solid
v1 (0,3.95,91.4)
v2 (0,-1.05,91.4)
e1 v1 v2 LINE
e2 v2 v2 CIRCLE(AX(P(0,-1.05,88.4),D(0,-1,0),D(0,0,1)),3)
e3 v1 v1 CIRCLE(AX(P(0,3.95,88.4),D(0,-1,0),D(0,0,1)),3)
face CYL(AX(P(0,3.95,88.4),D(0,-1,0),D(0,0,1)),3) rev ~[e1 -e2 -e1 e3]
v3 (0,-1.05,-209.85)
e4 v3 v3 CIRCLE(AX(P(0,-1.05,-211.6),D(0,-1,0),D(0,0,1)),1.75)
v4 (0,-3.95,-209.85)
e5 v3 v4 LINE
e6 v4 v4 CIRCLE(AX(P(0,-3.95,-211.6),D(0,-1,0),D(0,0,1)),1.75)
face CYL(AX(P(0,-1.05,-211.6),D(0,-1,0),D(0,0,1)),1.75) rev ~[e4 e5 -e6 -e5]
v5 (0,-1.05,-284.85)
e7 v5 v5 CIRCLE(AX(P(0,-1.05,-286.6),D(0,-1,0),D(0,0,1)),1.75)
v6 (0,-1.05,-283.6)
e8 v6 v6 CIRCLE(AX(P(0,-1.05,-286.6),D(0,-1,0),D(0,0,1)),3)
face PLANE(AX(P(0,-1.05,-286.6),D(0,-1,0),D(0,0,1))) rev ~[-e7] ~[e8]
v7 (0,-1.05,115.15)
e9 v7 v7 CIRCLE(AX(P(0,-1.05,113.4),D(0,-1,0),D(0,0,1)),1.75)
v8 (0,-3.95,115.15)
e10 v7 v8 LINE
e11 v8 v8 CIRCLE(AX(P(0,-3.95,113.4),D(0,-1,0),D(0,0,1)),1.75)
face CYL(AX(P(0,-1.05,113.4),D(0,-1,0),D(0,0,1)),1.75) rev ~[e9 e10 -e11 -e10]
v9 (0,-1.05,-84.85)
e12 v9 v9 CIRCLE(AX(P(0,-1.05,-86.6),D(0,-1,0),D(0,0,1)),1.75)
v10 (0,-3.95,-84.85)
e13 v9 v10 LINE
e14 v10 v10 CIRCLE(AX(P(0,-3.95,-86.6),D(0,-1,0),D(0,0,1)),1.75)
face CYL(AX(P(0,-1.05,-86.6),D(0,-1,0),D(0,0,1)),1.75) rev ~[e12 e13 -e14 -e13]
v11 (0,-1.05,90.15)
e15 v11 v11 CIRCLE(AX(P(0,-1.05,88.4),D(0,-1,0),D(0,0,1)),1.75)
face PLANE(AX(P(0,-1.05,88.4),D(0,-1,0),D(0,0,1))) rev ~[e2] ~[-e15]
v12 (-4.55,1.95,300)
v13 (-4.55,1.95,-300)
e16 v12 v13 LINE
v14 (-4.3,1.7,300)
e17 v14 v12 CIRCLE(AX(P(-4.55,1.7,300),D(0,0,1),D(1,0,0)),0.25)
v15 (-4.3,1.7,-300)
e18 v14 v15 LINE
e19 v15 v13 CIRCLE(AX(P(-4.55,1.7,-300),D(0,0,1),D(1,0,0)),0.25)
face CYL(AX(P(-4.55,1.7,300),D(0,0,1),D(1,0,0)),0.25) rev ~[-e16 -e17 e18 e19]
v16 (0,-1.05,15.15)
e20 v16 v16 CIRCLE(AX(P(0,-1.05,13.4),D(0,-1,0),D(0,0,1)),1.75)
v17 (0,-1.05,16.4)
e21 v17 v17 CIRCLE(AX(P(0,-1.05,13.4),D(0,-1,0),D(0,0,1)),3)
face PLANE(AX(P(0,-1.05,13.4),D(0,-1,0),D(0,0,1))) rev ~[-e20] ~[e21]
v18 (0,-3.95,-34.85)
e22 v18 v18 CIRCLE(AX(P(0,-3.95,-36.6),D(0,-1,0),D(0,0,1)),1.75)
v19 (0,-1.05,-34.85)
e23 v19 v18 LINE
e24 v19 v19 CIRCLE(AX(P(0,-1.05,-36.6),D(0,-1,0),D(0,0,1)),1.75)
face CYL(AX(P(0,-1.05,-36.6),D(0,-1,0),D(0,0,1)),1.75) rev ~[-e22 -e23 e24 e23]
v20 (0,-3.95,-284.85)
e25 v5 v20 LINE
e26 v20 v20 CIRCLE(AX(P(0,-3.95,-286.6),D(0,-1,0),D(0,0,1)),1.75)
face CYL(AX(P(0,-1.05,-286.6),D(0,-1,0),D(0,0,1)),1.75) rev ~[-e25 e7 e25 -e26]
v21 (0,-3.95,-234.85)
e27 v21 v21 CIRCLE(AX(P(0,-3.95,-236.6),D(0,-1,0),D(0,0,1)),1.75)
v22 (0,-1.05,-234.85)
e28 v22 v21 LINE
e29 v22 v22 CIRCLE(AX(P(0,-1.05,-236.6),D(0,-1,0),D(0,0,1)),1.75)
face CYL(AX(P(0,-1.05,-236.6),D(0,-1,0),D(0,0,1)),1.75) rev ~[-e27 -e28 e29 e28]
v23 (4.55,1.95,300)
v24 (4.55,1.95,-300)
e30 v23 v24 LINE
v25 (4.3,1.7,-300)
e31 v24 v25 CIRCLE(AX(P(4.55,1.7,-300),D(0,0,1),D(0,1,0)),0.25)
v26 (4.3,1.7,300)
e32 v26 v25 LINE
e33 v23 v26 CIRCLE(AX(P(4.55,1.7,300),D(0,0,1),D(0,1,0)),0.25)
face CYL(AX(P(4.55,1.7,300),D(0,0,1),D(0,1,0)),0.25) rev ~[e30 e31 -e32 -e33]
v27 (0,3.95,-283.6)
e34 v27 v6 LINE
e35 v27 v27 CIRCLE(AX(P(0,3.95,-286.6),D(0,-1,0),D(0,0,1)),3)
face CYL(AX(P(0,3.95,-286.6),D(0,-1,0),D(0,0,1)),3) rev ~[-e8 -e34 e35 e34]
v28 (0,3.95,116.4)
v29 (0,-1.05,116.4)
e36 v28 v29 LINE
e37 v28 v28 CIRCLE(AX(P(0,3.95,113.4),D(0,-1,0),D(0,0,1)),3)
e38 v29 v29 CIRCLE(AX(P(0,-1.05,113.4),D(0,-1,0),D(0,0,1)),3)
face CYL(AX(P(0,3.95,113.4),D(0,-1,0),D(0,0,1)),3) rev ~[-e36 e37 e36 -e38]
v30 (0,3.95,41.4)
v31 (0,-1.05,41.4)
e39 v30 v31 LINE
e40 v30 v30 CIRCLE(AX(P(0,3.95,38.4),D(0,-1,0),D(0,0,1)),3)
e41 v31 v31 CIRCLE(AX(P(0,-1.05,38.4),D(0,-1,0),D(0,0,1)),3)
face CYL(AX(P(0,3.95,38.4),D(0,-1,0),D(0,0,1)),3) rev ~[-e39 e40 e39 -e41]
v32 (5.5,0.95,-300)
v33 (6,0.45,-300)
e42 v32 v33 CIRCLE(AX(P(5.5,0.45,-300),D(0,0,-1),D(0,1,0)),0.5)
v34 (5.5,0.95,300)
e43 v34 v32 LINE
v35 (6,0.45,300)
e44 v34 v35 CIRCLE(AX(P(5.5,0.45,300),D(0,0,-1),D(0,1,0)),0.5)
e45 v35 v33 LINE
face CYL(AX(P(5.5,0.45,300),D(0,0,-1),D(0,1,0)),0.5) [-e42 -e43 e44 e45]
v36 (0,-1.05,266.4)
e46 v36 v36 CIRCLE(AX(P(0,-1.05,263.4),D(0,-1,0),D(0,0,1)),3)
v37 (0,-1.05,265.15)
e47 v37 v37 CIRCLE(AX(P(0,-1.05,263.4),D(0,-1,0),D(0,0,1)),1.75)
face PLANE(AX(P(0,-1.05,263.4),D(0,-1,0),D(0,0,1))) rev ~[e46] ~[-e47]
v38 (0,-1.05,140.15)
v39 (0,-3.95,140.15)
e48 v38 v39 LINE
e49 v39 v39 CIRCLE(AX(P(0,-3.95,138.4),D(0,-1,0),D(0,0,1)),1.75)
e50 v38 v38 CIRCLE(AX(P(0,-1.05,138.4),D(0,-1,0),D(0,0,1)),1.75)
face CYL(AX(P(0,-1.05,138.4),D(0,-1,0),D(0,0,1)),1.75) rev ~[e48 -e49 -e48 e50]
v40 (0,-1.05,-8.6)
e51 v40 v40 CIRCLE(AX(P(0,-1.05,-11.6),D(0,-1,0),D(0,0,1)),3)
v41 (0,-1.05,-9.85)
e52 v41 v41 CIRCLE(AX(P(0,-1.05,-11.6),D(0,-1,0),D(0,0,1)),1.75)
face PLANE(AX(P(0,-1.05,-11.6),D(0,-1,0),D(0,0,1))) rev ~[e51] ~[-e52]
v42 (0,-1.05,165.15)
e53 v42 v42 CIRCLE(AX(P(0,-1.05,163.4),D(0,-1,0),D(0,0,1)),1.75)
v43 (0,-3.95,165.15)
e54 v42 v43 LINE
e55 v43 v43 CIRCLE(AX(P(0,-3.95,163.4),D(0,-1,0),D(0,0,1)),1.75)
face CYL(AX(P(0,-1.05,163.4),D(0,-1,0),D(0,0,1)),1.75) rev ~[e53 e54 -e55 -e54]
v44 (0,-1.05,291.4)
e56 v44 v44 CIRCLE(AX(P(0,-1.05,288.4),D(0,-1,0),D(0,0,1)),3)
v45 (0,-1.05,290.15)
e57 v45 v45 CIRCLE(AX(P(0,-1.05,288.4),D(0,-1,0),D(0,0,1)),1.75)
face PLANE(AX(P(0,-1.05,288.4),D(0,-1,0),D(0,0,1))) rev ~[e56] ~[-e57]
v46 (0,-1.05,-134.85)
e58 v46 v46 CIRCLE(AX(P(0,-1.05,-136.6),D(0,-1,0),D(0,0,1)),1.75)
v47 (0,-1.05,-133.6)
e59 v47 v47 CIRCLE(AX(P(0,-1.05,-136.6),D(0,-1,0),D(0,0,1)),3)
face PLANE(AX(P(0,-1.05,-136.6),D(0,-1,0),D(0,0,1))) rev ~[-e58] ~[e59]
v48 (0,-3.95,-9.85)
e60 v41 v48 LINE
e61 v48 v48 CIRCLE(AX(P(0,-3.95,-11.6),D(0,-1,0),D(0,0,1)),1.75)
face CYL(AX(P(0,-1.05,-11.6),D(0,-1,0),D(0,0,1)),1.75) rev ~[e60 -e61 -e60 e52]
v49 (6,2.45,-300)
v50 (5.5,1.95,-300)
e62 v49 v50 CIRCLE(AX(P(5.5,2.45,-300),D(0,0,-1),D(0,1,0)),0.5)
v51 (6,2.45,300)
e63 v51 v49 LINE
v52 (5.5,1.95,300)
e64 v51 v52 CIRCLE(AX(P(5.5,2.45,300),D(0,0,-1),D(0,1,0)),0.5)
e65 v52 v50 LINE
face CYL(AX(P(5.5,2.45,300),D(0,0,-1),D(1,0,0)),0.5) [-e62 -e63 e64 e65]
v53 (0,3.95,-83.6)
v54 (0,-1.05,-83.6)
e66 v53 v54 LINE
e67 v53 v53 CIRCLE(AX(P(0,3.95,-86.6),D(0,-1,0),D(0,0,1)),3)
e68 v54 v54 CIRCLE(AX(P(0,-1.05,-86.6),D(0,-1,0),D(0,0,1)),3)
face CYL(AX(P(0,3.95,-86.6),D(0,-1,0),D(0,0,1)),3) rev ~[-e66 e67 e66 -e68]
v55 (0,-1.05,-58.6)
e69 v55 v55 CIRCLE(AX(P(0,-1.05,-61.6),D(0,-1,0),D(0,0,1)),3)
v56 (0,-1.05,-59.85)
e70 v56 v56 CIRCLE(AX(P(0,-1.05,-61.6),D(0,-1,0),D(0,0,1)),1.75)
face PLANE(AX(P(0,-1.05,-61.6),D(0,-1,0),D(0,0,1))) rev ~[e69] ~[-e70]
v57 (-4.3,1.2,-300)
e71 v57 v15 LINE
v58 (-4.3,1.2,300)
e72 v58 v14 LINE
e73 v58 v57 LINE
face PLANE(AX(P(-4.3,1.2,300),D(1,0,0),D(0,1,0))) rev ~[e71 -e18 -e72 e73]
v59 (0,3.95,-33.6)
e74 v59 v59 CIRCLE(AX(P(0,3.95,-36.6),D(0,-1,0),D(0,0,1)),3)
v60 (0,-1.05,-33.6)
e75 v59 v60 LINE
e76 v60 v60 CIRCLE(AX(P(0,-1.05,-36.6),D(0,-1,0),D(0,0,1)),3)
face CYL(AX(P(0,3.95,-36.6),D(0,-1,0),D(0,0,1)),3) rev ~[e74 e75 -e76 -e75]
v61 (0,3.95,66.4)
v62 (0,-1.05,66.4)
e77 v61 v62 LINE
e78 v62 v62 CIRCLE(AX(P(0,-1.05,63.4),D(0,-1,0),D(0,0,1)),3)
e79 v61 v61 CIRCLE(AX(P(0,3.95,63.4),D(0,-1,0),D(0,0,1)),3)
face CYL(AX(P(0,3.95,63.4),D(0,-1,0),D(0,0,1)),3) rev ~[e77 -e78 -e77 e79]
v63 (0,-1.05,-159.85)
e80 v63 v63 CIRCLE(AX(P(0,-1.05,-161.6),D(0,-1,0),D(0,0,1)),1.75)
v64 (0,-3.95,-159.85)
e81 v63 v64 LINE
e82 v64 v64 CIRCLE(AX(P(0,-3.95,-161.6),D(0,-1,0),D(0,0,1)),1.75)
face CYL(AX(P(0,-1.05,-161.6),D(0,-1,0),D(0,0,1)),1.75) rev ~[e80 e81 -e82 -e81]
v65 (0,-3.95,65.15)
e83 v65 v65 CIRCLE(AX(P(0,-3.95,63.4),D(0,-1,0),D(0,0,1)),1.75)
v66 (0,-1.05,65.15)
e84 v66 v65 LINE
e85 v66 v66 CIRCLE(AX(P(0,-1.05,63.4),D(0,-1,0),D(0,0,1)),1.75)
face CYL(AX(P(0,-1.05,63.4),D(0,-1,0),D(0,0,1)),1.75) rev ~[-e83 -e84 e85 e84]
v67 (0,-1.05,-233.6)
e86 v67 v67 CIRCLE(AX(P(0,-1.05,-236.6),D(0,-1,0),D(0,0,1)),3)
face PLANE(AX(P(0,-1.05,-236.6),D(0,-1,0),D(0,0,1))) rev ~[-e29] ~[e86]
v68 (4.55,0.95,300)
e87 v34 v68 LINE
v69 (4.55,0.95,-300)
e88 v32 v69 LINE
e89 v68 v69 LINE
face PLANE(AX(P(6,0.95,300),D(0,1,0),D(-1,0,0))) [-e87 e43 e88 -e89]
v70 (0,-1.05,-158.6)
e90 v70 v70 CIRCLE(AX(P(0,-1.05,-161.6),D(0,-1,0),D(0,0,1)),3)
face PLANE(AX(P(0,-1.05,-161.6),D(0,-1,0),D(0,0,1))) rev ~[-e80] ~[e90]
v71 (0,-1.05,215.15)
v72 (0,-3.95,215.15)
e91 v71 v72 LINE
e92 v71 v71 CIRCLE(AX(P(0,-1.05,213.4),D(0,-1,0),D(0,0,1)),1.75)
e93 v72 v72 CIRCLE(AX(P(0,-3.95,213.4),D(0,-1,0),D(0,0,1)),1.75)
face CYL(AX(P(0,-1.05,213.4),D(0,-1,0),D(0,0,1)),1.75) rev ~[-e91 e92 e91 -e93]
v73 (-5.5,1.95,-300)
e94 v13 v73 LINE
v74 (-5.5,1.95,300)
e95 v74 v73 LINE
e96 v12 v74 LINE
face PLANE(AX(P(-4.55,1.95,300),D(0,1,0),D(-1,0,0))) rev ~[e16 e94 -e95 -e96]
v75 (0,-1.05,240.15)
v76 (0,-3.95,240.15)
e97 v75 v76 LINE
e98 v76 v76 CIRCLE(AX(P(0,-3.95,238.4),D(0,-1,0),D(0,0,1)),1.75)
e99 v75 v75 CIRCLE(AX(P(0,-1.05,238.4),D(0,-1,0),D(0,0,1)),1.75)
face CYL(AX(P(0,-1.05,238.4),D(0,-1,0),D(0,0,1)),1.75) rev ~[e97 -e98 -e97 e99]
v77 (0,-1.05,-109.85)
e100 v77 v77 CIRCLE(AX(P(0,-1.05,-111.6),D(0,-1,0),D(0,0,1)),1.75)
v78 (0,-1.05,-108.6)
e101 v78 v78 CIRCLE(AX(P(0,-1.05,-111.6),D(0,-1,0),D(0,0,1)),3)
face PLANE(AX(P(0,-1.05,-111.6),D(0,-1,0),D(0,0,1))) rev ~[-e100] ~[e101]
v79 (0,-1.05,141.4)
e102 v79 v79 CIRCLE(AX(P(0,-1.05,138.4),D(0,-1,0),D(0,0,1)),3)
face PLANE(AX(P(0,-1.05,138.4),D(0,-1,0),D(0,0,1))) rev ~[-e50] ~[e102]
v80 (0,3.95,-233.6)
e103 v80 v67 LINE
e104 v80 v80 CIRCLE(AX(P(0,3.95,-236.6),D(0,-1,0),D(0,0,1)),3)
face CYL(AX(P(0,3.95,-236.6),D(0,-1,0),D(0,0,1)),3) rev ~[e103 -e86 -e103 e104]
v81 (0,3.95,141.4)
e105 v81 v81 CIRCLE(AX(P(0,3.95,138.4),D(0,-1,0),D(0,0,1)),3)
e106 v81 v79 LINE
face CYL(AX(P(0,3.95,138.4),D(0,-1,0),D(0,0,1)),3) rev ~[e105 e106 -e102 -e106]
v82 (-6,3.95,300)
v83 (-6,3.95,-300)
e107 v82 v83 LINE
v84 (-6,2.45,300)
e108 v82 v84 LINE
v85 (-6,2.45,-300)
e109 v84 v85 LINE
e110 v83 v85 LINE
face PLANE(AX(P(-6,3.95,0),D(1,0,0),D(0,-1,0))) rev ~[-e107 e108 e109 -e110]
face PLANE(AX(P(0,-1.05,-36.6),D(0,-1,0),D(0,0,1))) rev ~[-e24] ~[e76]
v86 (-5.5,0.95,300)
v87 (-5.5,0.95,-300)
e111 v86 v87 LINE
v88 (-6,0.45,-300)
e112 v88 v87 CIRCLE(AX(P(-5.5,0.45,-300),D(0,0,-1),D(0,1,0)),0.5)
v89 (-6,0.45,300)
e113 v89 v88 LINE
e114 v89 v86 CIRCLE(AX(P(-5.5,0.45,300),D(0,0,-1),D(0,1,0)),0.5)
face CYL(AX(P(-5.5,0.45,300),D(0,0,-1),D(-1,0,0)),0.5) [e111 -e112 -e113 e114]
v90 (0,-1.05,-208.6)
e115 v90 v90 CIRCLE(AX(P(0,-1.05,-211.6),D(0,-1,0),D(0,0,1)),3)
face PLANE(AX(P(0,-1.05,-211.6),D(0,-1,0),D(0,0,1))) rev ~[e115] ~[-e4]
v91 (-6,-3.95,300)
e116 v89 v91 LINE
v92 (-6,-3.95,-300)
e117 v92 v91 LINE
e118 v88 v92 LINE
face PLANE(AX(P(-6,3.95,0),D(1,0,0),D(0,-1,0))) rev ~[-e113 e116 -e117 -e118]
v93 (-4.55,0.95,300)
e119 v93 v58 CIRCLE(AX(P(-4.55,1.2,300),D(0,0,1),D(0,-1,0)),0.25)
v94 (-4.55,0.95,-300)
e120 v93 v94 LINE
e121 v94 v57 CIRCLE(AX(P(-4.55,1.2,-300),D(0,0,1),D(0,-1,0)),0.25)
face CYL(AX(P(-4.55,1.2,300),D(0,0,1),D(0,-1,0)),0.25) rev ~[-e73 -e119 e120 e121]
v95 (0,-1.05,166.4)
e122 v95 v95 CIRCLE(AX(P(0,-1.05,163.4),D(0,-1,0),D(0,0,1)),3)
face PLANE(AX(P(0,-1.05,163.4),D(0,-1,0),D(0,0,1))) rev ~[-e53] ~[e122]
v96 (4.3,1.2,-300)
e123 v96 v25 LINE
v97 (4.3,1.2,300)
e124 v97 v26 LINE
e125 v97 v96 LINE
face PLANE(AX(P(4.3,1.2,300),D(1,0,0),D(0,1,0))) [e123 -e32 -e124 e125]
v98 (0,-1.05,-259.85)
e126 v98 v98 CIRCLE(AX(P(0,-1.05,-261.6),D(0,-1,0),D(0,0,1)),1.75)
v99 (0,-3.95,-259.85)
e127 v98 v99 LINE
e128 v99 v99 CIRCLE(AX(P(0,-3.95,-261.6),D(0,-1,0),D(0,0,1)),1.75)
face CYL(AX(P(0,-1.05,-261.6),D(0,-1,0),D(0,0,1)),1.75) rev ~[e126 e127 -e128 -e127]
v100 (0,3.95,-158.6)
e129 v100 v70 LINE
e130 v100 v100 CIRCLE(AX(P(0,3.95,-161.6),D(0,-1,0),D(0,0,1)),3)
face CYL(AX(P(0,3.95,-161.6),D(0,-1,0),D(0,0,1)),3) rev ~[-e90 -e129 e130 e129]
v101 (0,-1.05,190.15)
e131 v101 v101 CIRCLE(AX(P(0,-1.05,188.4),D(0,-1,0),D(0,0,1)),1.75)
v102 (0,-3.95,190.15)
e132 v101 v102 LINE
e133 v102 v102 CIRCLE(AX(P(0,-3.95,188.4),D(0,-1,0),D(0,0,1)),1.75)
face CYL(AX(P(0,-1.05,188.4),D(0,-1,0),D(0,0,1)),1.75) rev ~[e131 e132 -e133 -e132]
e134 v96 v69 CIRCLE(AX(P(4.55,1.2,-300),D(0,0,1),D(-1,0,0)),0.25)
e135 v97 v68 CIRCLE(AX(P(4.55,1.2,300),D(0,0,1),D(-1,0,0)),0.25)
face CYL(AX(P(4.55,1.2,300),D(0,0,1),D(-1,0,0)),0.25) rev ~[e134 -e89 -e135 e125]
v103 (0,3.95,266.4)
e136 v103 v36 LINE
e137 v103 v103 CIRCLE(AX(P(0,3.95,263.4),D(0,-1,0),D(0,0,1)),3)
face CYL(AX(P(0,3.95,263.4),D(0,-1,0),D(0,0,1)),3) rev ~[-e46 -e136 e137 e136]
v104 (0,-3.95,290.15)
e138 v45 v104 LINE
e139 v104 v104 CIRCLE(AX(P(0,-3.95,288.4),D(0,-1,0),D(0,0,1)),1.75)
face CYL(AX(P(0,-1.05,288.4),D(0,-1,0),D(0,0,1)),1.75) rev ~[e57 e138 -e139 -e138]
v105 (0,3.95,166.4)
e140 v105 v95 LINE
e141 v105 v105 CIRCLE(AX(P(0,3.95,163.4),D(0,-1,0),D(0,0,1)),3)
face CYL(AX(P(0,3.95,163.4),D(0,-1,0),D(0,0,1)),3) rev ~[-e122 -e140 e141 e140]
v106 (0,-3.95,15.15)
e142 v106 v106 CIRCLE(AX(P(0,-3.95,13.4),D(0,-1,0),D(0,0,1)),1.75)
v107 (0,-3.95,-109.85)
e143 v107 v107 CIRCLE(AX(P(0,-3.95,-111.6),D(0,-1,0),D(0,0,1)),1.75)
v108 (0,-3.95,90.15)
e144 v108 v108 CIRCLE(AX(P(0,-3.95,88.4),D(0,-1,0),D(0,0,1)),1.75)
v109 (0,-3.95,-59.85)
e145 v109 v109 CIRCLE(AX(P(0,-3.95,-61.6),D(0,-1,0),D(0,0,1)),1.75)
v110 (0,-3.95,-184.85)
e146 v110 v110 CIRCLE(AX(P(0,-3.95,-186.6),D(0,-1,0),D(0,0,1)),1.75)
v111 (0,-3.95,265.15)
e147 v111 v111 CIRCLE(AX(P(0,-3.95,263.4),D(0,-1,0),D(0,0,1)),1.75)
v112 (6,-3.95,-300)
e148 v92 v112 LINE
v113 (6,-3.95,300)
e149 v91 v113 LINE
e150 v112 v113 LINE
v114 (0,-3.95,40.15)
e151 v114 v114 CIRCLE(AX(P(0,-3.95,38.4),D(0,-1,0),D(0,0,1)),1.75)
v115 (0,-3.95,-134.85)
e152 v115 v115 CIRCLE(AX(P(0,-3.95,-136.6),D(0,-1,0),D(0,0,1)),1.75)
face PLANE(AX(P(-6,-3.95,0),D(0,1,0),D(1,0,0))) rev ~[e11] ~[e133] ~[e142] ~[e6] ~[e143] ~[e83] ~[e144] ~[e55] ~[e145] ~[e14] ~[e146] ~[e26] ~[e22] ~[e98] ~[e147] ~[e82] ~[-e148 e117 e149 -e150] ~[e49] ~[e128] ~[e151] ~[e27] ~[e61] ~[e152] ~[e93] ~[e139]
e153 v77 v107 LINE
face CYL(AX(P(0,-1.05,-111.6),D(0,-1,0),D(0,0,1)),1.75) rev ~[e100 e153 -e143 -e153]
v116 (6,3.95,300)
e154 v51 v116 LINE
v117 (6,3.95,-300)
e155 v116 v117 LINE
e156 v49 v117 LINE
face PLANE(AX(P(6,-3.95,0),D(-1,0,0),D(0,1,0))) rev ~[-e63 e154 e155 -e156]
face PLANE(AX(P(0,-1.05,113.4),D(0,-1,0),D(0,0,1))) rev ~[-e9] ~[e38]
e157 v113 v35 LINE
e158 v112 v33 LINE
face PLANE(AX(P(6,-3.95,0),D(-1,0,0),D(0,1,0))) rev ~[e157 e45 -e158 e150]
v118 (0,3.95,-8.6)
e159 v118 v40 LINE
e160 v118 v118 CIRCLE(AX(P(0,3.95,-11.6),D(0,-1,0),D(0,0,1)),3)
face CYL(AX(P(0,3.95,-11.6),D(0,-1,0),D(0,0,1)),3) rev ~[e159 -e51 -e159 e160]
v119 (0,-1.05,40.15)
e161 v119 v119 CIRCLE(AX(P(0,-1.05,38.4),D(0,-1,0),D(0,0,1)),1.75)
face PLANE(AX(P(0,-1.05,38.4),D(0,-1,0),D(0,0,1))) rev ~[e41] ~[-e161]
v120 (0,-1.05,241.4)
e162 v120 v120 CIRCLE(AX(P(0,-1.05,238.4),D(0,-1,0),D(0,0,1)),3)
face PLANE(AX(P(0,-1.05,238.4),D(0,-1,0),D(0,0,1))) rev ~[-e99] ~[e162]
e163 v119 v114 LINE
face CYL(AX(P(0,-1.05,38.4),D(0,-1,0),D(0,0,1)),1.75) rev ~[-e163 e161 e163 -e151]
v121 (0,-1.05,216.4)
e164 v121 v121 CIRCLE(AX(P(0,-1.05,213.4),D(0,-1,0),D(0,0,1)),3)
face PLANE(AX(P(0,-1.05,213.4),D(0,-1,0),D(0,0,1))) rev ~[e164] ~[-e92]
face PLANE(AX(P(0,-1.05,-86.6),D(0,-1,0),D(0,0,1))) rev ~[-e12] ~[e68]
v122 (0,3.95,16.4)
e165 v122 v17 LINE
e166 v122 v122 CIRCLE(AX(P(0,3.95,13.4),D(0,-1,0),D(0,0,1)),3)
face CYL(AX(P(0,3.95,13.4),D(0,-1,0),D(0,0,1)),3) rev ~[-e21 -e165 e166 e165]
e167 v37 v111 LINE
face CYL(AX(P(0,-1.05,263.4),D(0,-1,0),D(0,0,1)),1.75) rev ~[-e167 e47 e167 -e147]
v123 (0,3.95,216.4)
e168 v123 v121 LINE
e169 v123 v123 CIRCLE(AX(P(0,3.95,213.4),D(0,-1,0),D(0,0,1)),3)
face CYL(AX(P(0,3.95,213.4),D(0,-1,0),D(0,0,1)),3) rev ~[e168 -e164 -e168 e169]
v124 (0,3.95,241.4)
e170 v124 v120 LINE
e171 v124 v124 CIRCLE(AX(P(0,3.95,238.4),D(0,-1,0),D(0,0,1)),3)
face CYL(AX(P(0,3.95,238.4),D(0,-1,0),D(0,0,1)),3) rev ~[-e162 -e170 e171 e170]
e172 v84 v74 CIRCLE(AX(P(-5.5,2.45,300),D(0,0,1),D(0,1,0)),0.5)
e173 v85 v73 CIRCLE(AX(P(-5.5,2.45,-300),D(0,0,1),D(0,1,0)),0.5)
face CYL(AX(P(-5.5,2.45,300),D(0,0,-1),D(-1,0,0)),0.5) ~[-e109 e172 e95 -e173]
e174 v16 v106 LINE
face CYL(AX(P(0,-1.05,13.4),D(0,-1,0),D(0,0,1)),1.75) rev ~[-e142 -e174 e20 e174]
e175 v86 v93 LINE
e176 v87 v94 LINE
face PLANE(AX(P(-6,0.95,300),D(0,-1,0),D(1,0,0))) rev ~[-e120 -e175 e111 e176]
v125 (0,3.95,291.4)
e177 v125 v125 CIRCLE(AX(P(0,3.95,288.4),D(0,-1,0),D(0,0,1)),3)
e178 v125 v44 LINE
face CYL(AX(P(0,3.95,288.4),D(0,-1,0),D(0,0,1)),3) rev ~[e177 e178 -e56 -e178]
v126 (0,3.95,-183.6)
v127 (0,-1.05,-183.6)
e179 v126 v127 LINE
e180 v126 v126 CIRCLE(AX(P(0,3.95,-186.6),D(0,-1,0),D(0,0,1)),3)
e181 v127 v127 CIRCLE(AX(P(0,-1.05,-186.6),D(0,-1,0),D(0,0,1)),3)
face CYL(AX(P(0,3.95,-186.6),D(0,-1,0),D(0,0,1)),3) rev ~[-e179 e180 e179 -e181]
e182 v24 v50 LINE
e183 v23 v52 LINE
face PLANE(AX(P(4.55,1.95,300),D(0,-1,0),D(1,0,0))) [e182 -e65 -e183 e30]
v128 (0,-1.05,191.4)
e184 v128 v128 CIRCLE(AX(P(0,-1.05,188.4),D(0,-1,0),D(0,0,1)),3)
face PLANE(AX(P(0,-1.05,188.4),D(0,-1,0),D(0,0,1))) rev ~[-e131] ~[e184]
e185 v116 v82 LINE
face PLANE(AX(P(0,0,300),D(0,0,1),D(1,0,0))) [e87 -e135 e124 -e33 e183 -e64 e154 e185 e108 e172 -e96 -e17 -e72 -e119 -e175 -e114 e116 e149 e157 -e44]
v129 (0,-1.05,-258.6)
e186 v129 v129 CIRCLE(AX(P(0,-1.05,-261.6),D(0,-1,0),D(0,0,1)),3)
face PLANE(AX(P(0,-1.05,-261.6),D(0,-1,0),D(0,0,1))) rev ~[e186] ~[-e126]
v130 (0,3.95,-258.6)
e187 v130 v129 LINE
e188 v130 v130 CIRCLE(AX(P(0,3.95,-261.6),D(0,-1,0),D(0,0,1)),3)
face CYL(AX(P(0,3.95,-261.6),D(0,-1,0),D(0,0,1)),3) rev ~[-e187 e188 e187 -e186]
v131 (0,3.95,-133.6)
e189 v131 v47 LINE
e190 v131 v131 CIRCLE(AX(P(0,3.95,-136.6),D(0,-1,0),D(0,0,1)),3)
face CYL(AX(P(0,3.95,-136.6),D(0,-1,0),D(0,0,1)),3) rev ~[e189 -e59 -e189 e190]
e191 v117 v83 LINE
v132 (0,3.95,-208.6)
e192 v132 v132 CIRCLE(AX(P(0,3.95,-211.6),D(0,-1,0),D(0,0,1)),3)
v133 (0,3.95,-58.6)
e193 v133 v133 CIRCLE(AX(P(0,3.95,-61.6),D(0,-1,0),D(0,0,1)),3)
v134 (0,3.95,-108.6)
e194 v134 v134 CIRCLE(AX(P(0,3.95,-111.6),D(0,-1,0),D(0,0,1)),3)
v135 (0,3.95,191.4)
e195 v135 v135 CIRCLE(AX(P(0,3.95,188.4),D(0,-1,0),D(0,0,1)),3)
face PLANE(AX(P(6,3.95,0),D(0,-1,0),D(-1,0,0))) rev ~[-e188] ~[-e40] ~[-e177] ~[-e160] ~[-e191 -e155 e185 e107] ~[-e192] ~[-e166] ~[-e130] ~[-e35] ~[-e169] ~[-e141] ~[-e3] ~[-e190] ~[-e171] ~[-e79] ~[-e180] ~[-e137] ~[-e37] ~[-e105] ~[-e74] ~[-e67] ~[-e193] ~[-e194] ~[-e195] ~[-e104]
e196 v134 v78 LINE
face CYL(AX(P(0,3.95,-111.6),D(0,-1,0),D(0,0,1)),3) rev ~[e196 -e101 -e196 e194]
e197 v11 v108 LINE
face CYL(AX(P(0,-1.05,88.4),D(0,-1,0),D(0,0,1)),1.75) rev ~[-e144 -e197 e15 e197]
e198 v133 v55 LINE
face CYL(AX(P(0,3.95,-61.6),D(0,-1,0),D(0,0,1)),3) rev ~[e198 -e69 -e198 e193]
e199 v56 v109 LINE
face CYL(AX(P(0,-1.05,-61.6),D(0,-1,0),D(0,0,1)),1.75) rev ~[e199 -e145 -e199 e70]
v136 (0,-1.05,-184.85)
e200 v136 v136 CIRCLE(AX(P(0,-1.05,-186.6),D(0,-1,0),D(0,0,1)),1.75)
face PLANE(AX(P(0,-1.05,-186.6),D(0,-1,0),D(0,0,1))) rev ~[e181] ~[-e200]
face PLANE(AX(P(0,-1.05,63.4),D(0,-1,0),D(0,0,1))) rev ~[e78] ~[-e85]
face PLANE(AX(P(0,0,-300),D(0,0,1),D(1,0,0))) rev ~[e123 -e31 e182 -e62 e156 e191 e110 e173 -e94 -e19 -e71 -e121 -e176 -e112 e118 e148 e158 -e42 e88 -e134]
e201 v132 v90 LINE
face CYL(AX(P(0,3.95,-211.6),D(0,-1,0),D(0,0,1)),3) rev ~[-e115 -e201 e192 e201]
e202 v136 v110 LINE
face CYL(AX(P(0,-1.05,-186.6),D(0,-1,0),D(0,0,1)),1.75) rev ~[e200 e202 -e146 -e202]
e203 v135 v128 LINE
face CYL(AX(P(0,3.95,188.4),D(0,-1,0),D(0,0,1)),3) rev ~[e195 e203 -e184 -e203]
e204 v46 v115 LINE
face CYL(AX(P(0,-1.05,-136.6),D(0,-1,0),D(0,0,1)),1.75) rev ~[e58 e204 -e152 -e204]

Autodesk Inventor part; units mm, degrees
ref_plane "YZ Plane" through (0, 0, 0) normal (1, 0, 0) x (0, 1, 0)
ref_plane "XZ Plane" through (0, 0, 0) normal (0, 1, 0) x (-1, 0, 0)
ref_plane "XY Plane" through (0, 0, 0) normal (0, 0, 1) x (1, 0, 0)
sketch "Esquisse1" plane through (0, 0, 0) normal (0, 0, 1) x (1, 0, 0)
  line L0 (-6, -3.95) -> (6, -3.95)
  line L1 (6, -3.95) -> (6, 3.95)
  line L2 (6, 3.95) -> (-6, 3.95)
  line L3 (-6, 3.95) -> (-6, -3.95)
  line L4 (-6, -3.95) -> (6, 3.95) construction
  line L5 (6, -3.95) -> (-6, 3.95) construction
  point P0 (0, 0)
  dimension "d0" = 7.9
  dimension "d1" = 12
extrude "Extrusion1" add sketch "Esquisse1" along normal mid plane 600
sketch "Esquisse2" plane through (0, 0, 300) normal (0, 0, 1) x (1, 0, 0)
  line L0 (6, -3.95) -> (6, 3.95) projected
  line L1 (6, 0.95) -> (4.55, 0.95)
  line L2 (4.3, 1.2) -> (4.3, 1.7)
  line L3 (4.55, 1.95) -> (6, 1.95)
  line L4 (6, 1.95) -> (6, 0.95)
  line L5 (-6, 3.95) -> (-6, -3.95) projected
  line L6 (-6, 0.95) -> (-4.55, 0.95)
  line L7 (-4.3, 1.2) -> (-4.3, 1.7)
  line L8 (-4.55, 1.95) -> (-6, 1.95)
  line L9 (-6, 1.95) -> (-6, 0.95)
  line L10 (-6, 3.95) -> (6, 3.95) projected
  arc A0 (-4.55, 0.95) -> (-4.3, 1.2) centre (-4.55, 1.2) ccw
  arc A1 (-4.3, 1.7) -> (-4.55, 1.95) centre (-4.55, 1.7) ccw
  arc A2 (4.3, 1.2) -> (4.55, 0.95) centre (4.55, 1.2) ccw
  arc A3 (4.55, 1.95) -> (4.3, 1.7) centre (4.55, 1.7) ccw
  point P0 (0, 0)
  point P1 (-4.3, 1.95)
  dimension "d4" = 8.6
  dimension "d5" = 4.3
  dimension "d6" = 1
  dimension "d7" = 2
  dimension "d8" = 0.25
extrude "Extrusion2" cut sketch "Esquisse2" against normal through all
fillet "Congé1" radius 0.5 4 edges at (6, 1.95, 0) (6, 0.95, 0) (-6, 0.95, 0) (-6, 1.95, 0)
sketch "Esquisse3" plane through (-6, 3.95, 300) normal (0, 1, 0) x (1, 0, 0)
  line L0 (12, 0) -> (0, 0) projected
  point P0 (6, 300)
  point P1 (6, 11.6)
  dimension "d12" = 11.6
hole "Perçage1" at (0, 3.95, 288.4) direction (0, -1, 0) diameter 3.5 end through all counterbore diameter 6 counterbore depth 5
pattern_linear "Réseau rectangulaire1" count 24 spacing 25 along (0, 0, -1) of "Perçage1"
equation "\"d5\" = 0.5 * d4"
properties part number "Rail" material "Acier"
